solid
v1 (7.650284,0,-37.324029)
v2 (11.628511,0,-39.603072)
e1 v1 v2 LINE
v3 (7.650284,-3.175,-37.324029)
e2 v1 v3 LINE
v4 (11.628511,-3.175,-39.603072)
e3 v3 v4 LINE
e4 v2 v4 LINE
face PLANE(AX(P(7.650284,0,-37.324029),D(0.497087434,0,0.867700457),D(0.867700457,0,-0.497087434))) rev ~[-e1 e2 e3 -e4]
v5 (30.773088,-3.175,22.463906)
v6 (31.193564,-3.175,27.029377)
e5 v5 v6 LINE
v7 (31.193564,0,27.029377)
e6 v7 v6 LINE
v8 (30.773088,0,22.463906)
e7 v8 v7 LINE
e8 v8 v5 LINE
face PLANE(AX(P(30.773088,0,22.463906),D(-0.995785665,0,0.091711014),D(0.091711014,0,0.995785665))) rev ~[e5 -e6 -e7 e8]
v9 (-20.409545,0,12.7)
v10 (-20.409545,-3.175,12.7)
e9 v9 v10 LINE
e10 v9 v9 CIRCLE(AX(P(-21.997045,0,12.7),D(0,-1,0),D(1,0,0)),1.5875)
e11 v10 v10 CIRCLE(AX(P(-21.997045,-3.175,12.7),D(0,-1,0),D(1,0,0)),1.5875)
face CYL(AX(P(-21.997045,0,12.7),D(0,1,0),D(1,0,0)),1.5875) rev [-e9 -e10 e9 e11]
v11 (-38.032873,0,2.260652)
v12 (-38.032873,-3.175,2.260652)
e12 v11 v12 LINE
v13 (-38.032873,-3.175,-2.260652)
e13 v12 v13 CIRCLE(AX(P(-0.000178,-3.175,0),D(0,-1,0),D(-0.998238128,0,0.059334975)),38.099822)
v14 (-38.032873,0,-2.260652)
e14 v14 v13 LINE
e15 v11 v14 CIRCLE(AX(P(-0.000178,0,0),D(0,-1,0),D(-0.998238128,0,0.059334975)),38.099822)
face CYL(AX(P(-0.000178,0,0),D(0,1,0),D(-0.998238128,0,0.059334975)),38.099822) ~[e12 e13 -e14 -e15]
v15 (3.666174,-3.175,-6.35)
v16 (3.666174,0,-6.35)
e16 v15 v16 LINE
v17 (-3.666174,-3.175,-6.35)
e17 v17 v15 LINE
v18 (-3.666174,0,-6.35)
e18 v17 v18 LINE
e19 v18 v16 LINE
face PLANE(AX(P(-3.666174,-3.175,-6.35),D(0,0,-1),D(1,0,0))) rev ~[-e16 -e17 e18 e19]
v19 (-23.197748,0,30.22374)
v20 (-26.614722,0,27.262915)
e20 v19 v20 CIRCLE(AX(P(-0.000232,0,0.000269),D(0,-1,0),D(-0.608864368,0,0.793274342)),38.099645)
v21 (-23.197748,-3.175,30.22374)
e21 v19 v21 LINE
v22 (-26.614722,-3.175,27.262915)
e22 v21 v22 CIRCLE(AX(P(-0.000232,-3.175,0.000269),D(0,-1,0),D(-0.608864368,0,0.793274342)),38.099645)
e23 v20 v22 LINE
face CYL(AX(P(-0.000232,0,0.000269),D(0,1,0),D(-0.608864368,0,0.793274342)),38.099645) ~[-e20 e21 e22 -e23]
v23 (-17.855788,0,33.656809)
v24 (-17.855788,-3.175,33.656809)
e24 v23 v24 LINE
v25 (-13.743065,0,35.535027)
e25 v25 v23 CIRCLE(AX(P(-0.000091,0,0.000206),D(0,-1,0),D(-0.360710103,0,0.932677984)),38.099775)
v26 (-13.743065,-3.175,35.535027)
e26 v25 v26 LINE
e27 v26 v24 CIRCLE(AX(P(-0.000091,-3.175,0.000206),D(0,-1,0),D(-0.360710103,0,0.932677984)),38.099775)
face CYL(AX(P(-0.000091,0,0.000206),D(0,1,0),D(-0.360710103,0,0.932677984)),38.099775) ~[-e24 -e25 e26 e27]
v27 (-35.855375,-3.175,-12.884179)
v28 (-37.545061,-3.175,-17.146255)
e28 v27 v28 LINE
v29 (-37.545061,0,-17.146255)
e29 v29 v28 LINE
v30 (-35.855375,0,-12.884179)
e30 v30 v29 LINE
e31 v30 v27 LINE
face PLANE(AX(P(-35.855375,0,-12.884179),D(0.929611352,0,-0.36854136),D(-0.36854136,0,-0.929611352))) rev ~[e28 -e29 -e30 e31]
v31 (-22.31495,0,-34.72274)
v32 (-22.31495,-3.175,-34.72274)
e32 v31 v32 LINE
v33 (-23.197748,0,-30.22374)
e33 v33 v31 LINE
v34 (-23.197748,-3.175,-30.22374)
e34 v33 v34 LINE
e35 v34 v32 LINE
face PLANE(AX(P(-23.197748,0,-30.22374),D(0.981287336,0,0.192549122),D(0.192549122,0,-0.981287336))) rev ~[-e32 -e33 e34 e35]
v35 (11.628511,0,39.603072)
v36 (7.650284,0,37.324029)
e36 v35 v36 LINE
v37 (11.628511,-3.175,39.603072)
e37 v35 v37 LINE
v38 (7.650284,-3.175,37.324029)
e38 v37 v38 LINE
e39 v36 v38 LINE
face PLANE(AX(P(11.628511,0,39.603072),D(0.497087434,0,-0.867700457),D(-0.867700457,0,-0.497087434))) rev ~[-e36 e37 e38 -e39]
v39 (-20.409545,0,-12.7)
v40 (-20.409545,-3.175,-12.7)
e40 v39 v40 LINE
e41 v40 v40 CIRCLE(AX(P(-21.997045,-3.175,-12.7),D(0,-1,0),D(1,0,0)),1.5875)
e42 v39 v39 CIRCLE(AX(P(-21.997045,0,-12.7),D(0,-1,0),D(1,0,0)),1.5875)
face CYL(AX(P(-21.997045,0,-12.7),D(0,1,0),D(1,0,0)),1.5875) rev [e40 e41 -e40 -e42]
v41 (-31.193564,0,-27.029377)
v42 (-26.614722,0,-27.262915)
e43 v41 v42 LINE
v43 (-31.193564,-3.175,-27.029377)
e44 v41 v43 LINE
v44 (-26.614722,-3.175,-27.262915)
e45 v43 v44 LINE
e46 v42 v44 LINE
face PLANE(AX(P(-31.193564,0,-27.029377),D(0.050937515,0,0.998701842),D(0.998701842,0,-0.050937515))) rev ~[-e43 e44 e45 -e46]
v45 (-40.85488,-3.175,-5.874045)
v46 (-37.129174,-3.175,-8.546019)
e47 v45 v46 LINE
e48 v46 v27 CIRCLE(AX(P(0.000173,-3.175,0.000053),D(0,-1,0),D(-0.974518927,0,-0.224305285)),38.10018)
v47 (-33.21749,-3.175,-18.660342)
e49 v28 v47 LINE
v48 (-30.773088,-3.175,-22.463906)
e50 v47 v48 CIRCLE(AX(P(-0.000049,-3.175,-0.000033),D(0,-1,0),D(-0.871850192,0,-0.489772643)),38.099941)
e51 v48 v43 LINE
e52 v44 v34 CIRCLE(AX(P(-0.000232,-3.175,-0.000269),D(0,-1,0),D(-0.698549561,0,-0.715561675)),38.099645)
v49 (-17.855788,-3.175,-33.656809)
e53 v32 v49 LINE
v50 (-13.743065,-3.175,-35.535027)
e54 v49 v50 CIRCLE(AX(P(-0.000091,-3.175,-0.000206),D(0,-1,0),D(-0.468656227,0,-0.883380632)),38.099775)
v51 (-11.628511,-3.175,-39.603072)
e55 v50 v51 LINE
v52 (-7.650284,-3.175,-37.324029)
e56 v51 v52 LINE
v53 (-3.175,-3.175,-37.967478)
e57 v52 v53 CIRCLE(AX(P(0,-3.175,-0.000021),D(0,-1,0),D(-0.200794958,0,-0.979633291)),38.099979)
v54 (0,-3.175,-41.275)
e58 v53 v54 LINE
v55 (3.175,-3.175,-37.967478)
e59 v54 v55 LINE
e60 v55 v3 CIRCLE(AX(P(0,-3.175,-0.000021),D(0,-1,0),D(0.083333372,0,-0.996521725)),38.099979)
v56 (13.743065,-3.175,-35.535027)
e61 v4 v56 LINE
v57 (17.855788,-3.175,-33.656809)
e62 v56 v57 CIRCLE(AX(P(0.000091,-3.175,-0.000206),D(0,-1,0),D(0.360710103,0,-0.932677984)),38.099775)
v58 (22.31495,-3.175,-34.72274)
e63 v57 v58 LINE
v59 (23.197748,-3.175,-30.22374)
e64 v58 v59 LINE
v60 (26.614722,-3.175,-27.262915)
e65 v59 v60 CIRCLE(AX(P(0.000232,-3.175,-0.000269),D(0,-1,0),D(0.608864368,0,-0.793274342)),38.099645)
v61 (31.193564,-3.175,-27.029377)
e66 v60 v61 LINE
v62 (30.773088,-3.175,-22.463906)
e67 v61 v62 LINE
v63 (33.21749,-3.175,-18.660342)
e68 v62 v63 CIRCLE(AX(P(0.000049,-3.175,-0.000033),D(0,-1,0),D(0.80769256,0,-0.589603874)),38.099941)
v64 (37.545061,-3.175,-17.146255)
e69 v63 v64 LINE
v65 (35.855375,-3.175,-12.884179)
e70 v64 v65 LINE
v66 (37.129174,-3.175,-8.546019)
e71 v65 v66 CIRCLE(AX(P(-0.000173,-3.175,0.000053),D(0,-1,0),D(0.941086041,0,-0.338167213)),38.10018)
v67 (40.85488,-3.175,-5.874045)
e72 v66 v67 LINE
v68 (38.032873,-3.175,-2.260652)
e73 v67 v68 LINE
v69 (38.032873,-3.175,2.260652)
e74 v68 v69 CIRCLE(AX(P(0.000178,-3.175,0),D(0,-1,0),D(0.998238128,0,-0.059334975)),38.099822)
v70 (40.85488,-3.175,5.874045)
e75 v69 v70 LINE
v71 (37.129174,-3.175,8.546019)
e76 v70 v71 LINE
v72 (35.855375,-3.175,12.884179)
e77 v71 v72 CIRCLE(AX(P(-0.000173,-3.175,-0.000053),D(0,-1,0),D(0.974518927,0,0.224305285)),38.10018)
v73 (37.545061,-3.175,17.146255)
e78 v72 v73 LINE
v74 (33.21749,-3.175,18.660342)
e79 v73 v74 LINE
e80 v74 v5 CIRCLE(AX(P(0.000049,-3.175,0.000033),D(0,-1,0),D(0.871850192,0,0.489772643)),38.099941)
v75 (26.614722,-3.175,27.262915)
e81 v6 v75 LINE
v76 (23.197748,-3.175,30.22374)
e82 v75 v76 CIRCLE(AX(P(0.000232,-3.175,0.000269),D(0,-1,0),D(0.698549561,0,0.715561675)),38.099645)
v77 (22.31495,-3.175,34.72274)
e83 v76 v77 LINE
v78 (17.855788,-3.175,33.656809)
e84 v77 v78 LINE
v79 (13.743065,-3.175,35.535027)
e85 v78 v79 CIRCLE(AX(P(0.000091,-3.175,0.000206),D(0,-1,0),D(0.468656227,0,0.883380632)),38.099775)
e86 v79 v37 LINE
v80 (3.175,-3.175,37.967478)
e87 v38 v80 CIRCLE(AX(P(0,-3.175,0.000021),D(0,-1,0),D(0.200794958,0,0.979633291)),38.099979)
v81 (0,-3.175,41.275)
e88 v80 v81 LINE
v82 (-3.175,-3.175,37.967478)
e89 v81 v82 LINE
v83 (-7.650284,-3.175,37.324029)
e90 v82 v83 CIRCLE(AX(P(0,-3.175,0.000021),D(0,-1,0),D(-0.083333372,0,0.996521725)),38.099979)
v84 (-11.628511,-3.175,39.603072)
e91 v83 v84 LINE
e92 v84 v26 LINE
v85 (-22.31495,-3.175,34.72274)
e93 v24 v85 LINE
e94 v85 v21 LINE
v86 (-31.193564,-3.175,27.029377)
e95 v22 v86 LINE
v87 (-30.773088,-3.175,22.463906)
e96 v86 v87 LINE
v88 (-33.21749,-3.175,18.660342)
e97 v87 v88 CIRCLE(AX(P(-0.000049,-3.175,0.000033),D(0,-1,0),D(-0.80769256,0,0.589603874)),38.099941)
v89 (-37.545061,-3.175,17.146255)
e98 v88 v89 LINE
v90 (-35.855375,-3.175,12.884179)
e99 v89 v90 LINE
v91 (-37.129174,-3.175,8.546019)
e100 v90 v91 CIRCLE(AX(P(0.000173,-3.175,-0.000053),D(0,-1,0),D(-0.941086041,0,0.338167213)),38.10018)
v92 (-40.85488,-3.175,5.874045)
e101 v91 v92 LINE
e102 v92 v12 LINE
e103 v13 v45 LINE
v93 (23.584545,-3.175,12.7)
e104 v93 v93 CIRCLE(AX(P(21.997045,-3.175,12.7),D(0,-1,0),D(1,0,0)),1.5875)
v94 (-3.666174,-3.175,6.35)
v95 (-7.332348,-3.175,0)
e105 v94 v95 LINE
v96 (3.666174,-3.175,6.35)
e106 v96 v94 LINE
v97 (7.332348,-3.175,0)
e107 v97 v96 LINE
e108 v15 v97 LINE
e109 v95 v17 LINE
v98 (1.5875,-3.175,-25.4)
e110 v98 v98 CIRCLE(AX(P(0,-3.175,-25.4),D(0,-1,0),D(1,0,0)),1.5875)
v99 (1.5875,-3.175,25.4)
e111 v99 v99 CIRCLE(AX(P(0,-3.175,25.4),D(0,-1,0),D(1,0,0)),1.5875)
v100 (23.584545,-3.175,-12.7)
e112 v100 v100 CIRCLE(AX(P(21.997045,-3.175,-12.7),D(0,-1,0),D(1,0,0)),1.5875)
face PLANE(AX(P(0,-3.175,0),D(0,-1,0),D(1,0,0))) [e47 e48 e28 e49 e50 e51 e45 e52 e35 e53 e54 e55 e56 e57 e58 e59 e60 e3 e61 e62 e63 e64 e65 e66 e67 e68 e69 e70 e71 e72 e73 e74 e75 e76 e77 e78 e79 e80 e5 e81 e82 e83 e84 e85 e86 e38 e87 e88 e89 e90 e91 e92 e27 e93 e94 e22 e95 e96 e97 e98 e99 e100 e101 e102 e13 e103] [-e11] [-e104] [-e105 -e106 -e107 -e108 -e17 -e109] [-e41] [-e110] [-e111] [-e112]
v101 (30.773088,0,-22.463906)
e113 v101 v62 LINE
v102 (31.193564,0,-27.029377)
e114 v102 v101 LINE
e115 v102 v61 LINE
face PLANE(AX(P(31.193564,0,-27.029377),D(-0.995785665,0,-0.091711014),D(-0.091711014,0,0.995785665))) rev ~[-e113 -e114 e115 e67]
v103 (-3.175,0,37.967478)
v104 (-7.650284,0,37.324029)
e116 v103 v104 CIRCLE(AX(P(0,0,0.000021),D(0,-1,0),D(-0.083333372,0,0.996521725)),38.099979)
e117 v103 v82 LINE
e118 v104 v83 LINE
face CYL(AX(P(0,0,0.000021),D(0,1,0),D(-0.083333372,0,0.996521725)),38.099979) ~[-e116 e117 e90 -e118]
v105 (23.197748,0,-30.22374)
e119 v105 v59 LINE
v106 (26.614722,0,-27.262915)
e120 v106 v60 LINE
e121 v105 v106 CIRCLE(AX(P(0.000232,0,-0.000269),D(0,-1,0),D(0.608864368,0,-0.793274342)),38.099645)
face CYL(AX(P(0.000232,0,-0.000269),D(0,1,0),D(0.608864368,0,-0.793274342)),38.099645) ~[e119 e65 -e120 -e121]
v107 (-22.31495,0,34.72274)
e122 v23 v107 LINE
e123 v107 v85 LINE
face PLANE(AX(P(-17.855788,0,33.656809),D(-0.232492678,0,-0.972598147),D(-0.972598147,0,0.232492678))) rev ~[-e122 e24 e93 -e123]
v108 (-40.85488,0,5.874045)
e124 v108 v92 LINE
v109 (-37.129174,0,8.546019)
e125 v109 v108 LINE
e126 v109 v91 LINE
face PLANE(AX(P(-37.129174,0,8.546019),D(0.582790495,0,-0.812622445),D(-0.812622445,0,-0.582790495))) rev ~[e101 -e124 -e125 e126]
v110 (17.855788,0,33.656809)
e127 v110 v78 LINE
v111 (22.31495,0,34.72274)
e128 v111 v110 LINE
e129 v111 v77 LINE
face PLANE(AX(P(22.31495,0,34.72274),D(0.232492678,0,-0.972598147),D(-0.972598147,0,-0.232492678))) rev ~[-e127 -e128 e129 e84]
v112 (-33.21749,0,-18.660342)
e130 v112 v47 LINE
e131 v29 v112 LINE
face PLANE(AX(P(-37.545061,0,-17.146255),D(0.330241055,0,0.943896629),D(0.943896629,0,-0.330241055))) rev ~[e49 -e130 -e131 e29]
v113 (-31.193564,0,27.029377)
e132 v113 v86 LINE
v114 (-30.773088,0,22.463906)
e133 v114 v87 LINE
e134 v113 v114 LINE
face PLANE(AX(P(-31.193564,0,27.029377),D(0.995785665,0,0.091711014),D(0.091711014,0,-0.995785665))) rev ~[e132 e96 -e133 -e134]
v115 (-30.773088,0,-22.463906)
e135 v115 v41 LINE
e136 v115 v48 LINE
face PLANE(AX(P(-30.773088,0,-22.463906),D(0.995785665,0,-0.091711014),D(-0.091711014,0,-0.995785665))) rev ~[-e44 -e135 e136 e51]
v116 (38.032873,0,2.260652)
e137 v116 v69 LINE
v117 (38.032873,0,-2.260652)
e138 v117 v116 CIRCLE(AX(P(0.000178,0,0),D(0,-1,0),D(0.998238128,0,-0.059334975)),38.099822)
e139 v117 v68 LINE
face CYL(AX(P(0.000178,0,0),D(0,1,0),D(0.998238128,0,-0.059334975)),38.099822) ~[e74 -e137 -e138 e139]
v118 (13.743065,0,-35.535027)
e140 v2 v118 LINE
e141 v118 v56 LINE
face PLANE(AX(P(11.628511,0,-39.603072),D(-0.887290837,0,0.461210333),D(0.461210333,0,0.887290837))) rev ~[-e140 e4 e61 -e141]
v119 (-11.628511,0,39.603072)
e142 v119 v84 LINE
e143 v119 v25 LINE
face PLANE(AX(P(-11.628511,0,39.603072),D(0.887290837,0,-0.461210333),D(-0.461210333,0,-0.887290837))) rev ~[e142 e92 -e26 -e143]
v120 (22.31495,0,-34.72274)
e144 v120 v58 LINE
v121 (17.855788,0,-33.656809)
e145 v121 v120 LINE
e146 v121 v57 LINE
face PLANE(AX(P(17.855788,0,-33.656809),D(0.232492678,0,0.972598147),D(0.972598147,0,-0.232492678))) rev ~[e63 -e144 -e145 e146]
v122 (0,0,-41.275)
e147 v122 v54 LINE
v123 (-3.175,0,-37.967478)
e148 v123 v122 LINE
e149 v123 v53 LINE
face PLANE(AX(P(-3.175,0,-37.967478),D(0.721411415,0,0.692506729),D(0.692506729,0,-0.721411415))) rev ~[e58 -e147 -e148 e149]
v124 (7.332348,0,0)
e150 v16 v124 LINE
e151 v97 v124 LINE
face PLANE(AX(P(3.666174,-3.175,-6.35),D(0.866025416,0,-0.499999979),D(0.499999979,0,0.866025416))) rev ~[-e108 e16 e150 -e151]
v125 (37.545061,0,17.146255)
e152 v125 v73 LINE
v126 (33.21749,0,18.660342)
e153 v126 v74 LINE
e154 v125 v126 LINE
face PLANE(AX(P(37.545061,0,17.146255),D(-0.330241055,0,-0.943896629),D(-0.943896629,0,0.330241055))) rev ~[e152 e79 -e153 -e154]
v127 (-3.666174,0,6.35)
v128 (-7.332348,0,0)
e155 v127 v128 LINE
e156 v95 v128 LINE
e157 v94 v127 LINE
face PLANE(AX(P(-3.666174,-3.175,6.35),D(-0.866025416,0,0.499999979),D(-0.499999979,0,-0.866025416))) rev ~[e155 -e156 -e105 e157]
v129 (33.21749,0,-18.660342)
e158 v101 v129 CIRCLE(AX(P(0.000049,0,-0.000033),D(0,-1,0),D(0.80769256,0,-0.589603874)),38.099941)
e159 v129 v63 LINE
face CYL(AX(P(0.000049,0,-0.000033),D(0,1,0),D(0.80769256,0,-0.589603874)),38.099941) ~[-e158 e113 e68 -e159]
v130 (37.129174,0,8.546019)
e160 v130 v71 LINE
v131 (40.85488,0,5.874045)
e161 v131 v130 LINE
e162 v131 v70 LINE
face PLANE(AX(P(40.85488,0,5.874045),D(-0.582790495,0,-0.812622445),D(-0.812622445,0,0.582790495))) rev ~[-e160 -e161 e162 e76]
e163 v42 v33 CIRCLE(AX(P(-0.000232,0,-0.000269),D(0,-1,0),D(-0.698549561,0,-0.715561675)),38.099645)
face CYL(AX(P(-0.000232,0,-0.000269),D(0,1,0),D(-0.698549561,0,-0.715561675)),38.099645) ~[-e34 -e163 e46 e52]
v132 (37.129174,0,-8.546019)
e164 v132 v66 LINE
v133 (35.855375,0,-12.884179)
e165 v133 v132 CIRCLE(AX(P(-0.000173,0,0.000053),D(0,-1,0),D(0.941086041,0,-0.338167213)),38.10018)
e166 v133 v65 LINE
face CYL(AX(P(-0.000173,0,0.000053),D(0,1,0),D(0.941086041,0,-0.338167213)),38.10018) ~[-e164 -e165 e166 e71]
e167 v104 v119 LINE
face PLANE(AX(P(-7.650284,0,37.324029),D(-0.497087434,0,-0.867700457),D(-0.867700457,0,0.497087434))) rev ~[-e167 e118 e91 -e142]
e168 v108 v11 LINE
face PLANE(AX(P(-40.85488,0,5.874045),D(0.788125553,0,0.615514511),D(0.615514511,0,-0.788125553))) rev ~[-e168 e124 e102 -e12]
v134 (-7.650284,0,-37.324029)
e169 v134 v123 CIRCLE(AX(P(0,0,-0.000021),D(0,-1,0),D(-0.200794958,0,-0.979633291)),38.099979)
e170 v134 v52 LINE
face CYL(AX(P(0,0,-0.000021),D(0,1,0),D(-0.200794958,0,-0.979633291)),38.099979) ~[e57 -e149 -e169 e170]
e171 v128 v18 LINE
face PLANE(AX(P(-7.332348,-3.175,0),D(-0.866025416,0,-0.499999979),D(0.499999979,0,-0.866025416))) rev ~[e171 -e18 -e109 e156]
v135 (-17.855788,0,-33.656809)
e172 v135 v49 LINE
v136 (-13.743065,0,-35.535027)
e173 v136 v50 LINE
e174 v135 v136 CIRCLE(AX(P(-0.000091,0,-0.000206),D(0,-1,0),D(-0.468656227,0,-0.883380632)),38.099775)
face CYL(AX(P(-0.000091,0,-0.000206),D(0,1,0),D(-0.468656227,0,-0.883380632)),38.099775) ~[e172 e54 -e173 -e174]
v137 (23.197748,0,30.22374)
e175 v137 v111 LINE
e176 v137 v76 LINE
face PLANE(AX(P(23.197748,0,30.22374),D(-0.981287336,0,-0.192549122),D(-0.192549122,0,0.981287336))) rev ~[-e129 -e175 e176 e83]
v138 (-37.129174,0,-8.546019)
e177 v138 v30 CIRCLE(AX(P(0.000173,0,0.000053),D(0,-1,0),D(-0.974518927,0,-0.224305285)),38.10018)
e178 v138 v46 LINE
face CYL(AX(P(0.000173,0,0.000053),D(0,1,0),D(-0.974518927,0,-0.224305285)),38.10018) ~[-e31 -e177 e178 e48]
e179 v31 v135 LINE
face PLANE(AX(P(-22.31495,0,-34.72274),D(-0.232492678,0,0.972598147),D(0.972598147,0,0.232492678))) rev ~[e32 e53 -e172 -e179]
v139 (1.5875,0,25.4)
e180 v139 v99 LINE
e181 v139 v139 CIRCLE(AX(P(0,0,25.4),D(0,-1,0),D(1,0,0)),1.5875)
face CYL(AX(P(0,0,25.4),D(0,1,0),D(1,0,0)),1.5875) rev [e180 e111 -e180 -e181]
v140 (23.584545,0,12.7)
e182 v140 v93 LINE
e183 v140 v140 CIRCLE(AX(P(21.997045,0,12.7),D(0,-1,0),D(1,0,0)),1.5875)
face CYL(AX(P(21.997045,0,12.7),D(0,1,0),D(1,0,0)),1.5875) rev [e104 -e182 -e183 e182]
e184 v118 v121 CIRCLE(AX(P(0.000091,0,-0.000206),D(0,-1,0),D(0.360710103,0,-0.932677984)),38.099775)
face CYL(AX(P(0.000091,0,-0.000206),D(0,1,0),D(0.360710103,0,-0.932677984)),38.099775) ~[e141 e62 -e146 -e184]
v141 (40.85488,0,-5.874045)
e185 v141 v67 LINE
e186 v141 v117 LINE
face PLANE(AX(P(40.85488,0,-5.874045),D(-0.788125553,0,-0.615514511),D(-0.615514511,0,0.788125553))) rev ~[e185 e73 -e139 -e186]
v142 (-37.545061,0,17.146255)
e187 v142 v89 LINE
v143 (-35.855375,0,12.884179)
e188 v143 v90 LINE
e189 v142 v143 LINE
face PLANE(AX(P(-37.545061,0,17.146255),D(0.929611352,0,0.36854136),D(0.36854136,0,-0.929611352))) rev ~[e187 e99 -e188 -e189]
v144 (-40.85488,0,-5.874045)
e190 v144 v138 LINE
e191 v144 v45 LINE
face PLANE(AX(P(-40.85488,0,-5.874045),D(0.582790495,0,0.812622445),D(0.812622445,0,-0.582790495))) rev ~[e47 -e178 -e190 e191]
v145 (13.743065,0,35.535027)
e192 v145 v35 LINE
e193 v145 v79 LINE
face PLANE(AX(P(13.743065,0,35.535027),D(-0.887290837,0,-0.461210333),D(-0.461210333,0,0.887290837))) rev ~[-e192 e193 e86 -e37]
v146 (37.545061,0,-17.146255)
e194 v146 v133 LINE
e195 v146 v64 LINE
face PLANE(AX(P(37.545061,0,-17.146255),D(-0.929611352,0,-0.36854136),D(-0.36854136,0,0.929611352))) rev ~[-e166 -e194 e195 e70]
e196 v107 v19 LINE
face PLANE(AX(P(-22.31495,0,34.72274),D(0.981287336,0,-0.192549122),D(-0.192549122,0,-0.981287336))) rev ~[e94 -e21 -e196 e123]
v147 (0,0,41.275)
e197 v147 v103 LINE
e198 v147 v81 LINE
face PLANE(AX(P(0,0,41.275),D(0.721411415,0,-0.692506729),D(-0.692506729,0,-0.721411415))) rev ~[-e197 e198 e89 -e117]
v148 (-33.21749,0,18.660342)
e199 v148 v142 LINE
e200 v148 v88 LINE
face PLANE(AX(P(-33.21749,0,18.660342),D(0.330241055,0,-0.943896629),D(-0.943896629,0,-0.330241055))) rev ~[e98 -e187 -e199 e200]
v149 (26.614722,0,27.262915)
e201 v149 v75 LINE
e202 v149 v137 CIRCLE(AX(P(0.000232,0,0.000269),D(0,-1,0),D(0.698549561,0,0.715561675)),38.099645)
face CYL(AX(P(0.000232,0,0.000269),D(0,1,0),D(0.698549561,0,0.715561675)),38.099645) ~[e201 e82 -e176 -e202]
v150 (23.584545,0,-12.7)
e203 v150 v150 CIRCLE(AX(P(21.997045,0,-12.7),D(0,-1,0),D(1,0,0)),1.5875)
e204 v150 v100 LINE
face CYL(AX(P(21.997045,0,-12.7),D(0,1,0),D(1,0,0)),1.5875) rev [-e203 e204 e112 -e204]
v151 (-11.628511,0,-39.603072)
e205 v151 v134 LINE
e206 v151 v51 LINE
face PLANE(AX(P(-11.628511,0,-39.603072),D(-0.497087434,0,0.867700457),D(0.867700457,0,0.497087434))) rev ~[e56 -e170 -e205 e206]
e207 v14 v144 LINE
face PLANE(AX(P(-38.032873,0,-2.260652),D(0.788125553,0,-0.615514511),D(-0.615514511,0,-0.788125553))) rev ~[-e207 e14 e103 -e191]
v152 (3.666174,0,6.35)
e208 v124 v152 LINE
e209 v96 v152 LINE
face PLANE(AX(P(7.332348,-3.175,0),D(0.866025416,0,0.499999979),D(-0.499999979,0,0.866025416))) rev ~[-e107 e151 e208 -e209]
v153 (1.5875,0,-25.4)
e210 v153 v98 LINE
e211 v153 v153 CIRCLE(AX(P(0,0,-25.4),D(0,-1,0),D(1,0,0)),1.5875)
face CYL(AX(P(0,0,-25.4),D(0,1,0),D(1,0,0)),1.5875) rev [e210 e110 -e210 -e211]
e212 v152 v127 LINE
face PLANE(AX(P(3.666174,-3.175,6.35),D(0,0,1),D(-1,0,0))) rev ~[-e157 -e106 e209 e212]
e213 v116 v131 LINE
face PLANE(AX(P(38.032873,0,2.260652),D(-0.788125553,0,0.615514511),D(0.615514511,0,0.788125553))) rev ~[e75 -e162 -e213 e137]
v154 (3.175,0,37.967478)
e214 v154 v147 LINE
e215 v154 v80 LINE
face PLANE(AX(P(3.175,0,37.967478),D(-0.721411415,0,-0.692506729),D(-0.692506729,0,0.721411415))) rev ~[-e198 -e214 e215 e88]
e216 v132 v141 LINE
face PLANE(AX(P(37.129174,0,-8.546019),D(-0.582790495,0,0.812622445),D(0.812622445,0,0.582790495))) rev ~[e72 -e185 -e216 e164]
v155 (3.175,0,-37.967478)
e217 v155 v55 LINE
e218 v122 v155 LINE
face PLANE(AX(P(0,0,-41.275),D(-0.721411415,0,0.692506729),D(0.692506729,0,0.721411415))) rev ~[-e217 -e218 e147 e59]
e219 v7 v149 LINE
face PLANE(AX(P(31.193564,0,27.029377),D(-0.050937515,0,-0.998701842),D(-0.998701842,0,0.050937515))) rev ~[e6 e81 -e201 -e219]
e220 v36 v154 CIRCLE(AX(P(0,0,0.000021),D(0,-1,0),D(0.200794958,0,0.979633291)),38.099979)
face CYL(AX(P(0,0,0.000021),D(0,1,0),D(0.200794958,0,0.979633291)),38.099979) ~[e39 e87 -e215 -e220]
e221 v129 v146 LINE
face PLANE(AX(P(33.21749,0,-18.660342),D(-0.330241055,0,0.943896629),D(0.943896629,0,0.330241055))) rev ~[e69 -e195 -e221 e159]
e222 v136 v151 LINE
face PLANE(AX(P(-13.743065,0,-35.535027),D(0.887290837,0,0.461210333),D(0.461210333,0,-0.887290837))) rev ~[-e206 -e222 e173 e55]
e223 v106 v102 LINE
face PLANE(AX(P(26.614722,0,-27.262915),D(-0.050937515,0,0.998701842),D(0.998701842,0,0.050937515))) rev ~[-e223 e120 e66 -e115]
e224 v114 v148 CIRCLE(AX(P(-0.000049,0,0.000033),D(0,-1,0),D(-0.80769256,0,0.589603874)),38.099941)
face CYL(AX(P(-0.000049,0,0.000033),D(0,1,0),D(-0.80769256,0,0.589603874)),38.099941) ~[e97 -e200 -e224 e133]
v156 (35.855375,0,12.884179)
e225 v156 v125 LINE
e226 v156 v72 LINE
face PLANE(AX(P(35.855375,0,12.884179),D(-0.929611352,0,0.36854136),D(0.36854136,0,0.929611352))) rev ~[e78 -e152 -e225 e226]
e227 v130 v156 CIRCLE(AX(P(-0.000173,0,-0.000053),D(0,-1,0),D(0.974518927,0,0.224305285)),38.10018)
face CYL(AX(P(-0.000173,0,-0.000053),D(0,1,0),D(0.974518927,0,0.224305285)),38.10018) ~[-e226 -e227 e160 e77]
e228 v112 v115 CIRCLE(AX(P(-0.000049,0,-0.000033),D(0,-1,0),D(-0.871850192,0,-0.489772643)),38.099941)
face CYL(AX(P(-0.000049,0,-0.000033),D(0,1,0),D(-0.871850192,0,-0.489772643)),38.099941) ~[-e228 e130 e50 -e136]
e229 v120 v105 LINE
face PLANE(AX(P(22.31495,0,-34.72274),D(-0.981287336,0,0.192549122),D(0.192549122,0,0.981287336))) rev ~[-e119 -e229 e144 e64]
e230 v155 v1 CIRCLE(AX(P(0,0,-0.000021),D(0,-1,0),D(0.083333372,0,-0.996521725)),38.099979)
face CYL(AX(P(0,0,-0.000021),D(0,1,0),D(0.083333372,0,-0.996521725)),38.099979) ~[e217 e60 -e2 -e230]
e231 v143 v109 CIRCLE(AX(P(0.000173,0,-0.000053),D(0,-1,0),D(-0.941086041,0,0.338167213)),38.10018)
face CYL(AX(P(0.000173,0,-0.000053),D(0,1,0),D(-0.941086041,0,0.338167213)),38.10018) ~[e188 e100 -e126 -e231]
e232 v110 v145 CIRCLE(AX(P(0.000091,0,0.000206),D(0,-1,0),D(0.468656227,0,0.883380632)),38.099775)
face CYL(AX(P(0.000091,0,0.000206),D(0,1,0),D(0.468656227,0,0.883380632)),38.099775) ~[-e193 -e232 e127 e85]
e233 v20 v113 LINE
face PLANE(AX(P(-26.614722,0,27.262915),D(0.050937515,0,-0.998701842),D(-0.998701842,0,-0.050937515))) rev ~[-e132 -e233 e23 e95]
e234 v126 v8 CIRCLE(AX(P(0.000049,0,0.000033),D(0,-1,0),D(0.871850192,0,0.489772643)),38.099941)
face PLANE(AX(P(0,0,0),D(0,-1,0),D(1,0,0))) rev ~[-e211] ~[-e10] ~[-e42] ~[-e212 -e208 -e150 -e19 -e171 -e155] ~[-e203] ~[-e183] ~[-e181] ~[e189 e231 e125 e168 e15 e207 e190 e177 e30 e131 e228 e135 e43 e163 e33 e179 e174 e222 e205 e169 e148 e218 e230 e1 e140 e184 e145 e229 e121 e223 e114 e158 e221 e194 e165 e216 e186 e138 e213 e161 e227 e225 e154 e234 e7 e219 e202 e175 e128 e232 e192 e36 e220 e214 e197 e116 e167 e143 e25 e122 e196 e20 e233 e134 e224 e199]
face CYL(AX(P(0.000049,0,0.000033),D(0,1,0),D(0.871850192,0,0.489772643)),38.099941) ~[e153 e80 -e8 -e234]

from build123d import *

# Parameters (mm, degrees)
F0_R     = 1.5875
F1_DEPTH = 3.175
F3_DEPTH = 3.176


with BuildPart() as f1:
    # F0 (on Front) → F1 (new body)
    with BuildSketch(Plane.XZ):
        with BuildLine():
            Line((-22.31495, 34.72274), (-23.197748, 30.22374))
            ThreePointArc((-23.197748, 30.22374), (-24.950194, 28.794059), (-26.614722, 27.262915))
            Line((-26.614722, 27.262915), (-31.193564, 27.029377))
            Line((-31.193564, 27.029377), (-30.773088, 22.463906))
            ThreePointArc((-30.773088, 22.463906), (-32.05176, 20.598415), (-33.21749, 18.660342))
            Line((-33.21749, 18.660342), (-37.545061, 17.146255))
            Line((-37.545061, 17.146255), (-35.855375, 12.884179))
            ThreePointArc((-35.855375, 12.884179), (-36.556682, 10.73401), (-37.129174, 8.546019))
            Line((-37.129174, 8.546019), (-40.85488, 5.874045))
            Line((-40.85488, 5.874045), (-38.032873, 2.260652))
            ThreePointArc((-38.032873, 2.260652), (-38.1, 0), (-38.032873, -2.260652))
            Line((-38.032873, -2.260652), (-40.85488, -5.874045))
            Line((-40.85488, -5.874045), (-37.129174, -8.546019))
            ThreePointArc((-37.129174, -8.546019), (-36.556682, -10.73401), (-35.855375, -12.884179))
            Line((-35.855375, -12.884179), (-37.545061, -17.146255))
            Line((-37.545061, -17.146255), (-33.21749, -18.660342))
            ThreePointArc((-33.21749, -18.660342), (-32.05176, -20.598415), (-30.773088, -22.463906))
            Line((-30.773088, -22.463906), (-31.193564, -27.029377))
            Line((-31.193564, -27.029377), (-26.614722, -27.262915))
            ThreePointArc((-26.614722, -27.262915), (-24.950194, -28.794059), (-23.197748, -30.22374))
            Line((-23.197748, -30.22374), (-22.31495, -34.72274))
            Line((-22.31495, -34.72274), (-17.855788, -33.656809))
            ThreePointArc((-17.855788, -33.656809), (-15.827312, -34.656979), (-13.743065, -35.535027))
            Line((-13.743065, -35.535027), (-11.628511, -39.603072))
            Line((-11.628511, -39.603072), (-7.650284, -37.324029))
            ThreePointArc((-7.650284, -37.324029), (-5.422195, -37.712197), (-3.175, -37.967478))
            Line((-3.175, -37.967478), (0, -41.275))
            Line((0, -41.275), (3.175, -37.967478))
            ThreePointArc((3.175, -37.967478), (5.422195, -37.712197), (7.650284, -37.324029))
            Line((7.650284, -37.324029), (11.628511, -39.603072))
            Line((11.628511, -39.603072), (13.743065, -35.535027))
            ThreePointArc((13.743065, -35.535027), (15.827312, -34.656979), (17.855788, -33.656809))
            Line((17.855788, -33.656809), (22.31495, -34.72274))
            Line((22.31495, -34.72274), (23.197748, -30.22374))
            ThreePointArc((23.197748, -30.22374), (24.950194, -28.794059), (26.614722, -27.262915))
            Line((26.614722, -27.262915), (31.193564, -27.029377))
            Line((31.193564, -27.029377), (30.773088, -22.463906))
            ThreePointArc((30.773088, -22.463906), (32.05176, -20.598415), (33.21749, -18.660342))
            Line((33.21749, -18.660342), (37.545061, -17.146255))
            Line((37.545061, -17.146255), (35.855375, -12.884179))
            ThreePointArc((35.855375, -12.884179), (36.556682, -10.73401), (37.129174, -8.546019))
            Line((37.129174, -8.546019), (40.85488, -5.874045))
            Line((40.85488, -5.874045), (38.032873, -2.260652))
            ThreePointArc((38.032873, -2.260652), (38.1, 0), (38.032873, 2.260652))
            Line((38.032873, 2.260652), (40.85488, 5.874045))
            Line((40.85488, 5.874045), (37.129174, 8.546019))
            ThreePointArc((37.129174, 8.546019), (36.556682, 10.73401), (35.855375, 12.884179))
            Line((35.855375, 12.884179), (37.545061, 17.146255))
            Line((37.545061, 17.146255), (33.21749, 18.660342))
            ThreePointArc((33.21749, 18.660342), (32.05176, 20.598415), (30.773088, 22.463906))
            Line((30.773088, 22.463906), (31.193564, 27.029377))
            Line((31.193564, 27.029377), (26.614722, 27.262915))
            ThreePointArc((26.614722, 27.262915), (24.950194, 28.794059), (23.197748, 30.22374))
            Line((23.197748, 30.22374), (22.31495, 34.72274))
            Line((22.31495, 34.72274), (17.855788, 33.656809))
            ThreePointArc((17.855788, 33.656809), (15.827312, 34.656979), (13.743065, 35.535027))
            Line((13.743065, 35.535027), (11.628511, 39.603072))
            Line((11.628511, 39.603072), (7.650284, 37.324029))
            ThreePointArc((7.650284, 37.324029), (5.422195, 37.712197), (3.175, 37.967478))
            Line((3.175, 37.967478), (0, 41.275))
            Line((0, 41.275), (-3.175, 37.967478))
            ThreePointArc((-3.175, 37.967478), (-5.422195, 37.712197), (-7.650284, 37.324029))
            Line((-7.650284, 37.324029), (-11.628511, 39.603072))
            Line((-11.628511, 39.603072), (-13.743065, 35.535027))
            ThreePointArc((-13.743065, 35.535027), (-15.827312, 34.656979), (-17.855788, 33.656809))
            Line((-17.855788, 33.656809), (-22.31495, 34.72274))
        make_face()
        with Locations((-21.997045, -12.7)):
            Circle(F0_R, mode=Mode.SUBTRACT)
        with Locations((0, -25.4)):
            Circle(F0_R, mode=Mode.SUBTRACT)
        with Locations((21.997045, -12.7)):
            Circle(F0_R, mode=Mode.SUBTRACT)
        with Locations((-21.997045, 12.7)):
            Circle(F0_R, mode=Mode.SUBTRACT)
        with Locations((21.997045, 12.7)):
            Circle(F0_R, mode=Mode.SUBTRACT)
        with Locations((0, 25.4)):
            Circle(F0_R, mode=Mode.SUBTRACT)
    extrude(amount=F1_DEPTH)

    # F2 (on face) → F3 (cut, through all)
    with BuildSketch(Plane.XZ.offset(3.175)):
        Polygon((3.666174, 6.35), (-3.666174, 6.35), (-7.332348, 0), (-3.666174, -6.35), (3.666174, -6.35), (7.332348, 0), align=None)
    extrude(amount=-F3_DEPTH, mode=Mode.SUBTRACT)


solid = f1.part
